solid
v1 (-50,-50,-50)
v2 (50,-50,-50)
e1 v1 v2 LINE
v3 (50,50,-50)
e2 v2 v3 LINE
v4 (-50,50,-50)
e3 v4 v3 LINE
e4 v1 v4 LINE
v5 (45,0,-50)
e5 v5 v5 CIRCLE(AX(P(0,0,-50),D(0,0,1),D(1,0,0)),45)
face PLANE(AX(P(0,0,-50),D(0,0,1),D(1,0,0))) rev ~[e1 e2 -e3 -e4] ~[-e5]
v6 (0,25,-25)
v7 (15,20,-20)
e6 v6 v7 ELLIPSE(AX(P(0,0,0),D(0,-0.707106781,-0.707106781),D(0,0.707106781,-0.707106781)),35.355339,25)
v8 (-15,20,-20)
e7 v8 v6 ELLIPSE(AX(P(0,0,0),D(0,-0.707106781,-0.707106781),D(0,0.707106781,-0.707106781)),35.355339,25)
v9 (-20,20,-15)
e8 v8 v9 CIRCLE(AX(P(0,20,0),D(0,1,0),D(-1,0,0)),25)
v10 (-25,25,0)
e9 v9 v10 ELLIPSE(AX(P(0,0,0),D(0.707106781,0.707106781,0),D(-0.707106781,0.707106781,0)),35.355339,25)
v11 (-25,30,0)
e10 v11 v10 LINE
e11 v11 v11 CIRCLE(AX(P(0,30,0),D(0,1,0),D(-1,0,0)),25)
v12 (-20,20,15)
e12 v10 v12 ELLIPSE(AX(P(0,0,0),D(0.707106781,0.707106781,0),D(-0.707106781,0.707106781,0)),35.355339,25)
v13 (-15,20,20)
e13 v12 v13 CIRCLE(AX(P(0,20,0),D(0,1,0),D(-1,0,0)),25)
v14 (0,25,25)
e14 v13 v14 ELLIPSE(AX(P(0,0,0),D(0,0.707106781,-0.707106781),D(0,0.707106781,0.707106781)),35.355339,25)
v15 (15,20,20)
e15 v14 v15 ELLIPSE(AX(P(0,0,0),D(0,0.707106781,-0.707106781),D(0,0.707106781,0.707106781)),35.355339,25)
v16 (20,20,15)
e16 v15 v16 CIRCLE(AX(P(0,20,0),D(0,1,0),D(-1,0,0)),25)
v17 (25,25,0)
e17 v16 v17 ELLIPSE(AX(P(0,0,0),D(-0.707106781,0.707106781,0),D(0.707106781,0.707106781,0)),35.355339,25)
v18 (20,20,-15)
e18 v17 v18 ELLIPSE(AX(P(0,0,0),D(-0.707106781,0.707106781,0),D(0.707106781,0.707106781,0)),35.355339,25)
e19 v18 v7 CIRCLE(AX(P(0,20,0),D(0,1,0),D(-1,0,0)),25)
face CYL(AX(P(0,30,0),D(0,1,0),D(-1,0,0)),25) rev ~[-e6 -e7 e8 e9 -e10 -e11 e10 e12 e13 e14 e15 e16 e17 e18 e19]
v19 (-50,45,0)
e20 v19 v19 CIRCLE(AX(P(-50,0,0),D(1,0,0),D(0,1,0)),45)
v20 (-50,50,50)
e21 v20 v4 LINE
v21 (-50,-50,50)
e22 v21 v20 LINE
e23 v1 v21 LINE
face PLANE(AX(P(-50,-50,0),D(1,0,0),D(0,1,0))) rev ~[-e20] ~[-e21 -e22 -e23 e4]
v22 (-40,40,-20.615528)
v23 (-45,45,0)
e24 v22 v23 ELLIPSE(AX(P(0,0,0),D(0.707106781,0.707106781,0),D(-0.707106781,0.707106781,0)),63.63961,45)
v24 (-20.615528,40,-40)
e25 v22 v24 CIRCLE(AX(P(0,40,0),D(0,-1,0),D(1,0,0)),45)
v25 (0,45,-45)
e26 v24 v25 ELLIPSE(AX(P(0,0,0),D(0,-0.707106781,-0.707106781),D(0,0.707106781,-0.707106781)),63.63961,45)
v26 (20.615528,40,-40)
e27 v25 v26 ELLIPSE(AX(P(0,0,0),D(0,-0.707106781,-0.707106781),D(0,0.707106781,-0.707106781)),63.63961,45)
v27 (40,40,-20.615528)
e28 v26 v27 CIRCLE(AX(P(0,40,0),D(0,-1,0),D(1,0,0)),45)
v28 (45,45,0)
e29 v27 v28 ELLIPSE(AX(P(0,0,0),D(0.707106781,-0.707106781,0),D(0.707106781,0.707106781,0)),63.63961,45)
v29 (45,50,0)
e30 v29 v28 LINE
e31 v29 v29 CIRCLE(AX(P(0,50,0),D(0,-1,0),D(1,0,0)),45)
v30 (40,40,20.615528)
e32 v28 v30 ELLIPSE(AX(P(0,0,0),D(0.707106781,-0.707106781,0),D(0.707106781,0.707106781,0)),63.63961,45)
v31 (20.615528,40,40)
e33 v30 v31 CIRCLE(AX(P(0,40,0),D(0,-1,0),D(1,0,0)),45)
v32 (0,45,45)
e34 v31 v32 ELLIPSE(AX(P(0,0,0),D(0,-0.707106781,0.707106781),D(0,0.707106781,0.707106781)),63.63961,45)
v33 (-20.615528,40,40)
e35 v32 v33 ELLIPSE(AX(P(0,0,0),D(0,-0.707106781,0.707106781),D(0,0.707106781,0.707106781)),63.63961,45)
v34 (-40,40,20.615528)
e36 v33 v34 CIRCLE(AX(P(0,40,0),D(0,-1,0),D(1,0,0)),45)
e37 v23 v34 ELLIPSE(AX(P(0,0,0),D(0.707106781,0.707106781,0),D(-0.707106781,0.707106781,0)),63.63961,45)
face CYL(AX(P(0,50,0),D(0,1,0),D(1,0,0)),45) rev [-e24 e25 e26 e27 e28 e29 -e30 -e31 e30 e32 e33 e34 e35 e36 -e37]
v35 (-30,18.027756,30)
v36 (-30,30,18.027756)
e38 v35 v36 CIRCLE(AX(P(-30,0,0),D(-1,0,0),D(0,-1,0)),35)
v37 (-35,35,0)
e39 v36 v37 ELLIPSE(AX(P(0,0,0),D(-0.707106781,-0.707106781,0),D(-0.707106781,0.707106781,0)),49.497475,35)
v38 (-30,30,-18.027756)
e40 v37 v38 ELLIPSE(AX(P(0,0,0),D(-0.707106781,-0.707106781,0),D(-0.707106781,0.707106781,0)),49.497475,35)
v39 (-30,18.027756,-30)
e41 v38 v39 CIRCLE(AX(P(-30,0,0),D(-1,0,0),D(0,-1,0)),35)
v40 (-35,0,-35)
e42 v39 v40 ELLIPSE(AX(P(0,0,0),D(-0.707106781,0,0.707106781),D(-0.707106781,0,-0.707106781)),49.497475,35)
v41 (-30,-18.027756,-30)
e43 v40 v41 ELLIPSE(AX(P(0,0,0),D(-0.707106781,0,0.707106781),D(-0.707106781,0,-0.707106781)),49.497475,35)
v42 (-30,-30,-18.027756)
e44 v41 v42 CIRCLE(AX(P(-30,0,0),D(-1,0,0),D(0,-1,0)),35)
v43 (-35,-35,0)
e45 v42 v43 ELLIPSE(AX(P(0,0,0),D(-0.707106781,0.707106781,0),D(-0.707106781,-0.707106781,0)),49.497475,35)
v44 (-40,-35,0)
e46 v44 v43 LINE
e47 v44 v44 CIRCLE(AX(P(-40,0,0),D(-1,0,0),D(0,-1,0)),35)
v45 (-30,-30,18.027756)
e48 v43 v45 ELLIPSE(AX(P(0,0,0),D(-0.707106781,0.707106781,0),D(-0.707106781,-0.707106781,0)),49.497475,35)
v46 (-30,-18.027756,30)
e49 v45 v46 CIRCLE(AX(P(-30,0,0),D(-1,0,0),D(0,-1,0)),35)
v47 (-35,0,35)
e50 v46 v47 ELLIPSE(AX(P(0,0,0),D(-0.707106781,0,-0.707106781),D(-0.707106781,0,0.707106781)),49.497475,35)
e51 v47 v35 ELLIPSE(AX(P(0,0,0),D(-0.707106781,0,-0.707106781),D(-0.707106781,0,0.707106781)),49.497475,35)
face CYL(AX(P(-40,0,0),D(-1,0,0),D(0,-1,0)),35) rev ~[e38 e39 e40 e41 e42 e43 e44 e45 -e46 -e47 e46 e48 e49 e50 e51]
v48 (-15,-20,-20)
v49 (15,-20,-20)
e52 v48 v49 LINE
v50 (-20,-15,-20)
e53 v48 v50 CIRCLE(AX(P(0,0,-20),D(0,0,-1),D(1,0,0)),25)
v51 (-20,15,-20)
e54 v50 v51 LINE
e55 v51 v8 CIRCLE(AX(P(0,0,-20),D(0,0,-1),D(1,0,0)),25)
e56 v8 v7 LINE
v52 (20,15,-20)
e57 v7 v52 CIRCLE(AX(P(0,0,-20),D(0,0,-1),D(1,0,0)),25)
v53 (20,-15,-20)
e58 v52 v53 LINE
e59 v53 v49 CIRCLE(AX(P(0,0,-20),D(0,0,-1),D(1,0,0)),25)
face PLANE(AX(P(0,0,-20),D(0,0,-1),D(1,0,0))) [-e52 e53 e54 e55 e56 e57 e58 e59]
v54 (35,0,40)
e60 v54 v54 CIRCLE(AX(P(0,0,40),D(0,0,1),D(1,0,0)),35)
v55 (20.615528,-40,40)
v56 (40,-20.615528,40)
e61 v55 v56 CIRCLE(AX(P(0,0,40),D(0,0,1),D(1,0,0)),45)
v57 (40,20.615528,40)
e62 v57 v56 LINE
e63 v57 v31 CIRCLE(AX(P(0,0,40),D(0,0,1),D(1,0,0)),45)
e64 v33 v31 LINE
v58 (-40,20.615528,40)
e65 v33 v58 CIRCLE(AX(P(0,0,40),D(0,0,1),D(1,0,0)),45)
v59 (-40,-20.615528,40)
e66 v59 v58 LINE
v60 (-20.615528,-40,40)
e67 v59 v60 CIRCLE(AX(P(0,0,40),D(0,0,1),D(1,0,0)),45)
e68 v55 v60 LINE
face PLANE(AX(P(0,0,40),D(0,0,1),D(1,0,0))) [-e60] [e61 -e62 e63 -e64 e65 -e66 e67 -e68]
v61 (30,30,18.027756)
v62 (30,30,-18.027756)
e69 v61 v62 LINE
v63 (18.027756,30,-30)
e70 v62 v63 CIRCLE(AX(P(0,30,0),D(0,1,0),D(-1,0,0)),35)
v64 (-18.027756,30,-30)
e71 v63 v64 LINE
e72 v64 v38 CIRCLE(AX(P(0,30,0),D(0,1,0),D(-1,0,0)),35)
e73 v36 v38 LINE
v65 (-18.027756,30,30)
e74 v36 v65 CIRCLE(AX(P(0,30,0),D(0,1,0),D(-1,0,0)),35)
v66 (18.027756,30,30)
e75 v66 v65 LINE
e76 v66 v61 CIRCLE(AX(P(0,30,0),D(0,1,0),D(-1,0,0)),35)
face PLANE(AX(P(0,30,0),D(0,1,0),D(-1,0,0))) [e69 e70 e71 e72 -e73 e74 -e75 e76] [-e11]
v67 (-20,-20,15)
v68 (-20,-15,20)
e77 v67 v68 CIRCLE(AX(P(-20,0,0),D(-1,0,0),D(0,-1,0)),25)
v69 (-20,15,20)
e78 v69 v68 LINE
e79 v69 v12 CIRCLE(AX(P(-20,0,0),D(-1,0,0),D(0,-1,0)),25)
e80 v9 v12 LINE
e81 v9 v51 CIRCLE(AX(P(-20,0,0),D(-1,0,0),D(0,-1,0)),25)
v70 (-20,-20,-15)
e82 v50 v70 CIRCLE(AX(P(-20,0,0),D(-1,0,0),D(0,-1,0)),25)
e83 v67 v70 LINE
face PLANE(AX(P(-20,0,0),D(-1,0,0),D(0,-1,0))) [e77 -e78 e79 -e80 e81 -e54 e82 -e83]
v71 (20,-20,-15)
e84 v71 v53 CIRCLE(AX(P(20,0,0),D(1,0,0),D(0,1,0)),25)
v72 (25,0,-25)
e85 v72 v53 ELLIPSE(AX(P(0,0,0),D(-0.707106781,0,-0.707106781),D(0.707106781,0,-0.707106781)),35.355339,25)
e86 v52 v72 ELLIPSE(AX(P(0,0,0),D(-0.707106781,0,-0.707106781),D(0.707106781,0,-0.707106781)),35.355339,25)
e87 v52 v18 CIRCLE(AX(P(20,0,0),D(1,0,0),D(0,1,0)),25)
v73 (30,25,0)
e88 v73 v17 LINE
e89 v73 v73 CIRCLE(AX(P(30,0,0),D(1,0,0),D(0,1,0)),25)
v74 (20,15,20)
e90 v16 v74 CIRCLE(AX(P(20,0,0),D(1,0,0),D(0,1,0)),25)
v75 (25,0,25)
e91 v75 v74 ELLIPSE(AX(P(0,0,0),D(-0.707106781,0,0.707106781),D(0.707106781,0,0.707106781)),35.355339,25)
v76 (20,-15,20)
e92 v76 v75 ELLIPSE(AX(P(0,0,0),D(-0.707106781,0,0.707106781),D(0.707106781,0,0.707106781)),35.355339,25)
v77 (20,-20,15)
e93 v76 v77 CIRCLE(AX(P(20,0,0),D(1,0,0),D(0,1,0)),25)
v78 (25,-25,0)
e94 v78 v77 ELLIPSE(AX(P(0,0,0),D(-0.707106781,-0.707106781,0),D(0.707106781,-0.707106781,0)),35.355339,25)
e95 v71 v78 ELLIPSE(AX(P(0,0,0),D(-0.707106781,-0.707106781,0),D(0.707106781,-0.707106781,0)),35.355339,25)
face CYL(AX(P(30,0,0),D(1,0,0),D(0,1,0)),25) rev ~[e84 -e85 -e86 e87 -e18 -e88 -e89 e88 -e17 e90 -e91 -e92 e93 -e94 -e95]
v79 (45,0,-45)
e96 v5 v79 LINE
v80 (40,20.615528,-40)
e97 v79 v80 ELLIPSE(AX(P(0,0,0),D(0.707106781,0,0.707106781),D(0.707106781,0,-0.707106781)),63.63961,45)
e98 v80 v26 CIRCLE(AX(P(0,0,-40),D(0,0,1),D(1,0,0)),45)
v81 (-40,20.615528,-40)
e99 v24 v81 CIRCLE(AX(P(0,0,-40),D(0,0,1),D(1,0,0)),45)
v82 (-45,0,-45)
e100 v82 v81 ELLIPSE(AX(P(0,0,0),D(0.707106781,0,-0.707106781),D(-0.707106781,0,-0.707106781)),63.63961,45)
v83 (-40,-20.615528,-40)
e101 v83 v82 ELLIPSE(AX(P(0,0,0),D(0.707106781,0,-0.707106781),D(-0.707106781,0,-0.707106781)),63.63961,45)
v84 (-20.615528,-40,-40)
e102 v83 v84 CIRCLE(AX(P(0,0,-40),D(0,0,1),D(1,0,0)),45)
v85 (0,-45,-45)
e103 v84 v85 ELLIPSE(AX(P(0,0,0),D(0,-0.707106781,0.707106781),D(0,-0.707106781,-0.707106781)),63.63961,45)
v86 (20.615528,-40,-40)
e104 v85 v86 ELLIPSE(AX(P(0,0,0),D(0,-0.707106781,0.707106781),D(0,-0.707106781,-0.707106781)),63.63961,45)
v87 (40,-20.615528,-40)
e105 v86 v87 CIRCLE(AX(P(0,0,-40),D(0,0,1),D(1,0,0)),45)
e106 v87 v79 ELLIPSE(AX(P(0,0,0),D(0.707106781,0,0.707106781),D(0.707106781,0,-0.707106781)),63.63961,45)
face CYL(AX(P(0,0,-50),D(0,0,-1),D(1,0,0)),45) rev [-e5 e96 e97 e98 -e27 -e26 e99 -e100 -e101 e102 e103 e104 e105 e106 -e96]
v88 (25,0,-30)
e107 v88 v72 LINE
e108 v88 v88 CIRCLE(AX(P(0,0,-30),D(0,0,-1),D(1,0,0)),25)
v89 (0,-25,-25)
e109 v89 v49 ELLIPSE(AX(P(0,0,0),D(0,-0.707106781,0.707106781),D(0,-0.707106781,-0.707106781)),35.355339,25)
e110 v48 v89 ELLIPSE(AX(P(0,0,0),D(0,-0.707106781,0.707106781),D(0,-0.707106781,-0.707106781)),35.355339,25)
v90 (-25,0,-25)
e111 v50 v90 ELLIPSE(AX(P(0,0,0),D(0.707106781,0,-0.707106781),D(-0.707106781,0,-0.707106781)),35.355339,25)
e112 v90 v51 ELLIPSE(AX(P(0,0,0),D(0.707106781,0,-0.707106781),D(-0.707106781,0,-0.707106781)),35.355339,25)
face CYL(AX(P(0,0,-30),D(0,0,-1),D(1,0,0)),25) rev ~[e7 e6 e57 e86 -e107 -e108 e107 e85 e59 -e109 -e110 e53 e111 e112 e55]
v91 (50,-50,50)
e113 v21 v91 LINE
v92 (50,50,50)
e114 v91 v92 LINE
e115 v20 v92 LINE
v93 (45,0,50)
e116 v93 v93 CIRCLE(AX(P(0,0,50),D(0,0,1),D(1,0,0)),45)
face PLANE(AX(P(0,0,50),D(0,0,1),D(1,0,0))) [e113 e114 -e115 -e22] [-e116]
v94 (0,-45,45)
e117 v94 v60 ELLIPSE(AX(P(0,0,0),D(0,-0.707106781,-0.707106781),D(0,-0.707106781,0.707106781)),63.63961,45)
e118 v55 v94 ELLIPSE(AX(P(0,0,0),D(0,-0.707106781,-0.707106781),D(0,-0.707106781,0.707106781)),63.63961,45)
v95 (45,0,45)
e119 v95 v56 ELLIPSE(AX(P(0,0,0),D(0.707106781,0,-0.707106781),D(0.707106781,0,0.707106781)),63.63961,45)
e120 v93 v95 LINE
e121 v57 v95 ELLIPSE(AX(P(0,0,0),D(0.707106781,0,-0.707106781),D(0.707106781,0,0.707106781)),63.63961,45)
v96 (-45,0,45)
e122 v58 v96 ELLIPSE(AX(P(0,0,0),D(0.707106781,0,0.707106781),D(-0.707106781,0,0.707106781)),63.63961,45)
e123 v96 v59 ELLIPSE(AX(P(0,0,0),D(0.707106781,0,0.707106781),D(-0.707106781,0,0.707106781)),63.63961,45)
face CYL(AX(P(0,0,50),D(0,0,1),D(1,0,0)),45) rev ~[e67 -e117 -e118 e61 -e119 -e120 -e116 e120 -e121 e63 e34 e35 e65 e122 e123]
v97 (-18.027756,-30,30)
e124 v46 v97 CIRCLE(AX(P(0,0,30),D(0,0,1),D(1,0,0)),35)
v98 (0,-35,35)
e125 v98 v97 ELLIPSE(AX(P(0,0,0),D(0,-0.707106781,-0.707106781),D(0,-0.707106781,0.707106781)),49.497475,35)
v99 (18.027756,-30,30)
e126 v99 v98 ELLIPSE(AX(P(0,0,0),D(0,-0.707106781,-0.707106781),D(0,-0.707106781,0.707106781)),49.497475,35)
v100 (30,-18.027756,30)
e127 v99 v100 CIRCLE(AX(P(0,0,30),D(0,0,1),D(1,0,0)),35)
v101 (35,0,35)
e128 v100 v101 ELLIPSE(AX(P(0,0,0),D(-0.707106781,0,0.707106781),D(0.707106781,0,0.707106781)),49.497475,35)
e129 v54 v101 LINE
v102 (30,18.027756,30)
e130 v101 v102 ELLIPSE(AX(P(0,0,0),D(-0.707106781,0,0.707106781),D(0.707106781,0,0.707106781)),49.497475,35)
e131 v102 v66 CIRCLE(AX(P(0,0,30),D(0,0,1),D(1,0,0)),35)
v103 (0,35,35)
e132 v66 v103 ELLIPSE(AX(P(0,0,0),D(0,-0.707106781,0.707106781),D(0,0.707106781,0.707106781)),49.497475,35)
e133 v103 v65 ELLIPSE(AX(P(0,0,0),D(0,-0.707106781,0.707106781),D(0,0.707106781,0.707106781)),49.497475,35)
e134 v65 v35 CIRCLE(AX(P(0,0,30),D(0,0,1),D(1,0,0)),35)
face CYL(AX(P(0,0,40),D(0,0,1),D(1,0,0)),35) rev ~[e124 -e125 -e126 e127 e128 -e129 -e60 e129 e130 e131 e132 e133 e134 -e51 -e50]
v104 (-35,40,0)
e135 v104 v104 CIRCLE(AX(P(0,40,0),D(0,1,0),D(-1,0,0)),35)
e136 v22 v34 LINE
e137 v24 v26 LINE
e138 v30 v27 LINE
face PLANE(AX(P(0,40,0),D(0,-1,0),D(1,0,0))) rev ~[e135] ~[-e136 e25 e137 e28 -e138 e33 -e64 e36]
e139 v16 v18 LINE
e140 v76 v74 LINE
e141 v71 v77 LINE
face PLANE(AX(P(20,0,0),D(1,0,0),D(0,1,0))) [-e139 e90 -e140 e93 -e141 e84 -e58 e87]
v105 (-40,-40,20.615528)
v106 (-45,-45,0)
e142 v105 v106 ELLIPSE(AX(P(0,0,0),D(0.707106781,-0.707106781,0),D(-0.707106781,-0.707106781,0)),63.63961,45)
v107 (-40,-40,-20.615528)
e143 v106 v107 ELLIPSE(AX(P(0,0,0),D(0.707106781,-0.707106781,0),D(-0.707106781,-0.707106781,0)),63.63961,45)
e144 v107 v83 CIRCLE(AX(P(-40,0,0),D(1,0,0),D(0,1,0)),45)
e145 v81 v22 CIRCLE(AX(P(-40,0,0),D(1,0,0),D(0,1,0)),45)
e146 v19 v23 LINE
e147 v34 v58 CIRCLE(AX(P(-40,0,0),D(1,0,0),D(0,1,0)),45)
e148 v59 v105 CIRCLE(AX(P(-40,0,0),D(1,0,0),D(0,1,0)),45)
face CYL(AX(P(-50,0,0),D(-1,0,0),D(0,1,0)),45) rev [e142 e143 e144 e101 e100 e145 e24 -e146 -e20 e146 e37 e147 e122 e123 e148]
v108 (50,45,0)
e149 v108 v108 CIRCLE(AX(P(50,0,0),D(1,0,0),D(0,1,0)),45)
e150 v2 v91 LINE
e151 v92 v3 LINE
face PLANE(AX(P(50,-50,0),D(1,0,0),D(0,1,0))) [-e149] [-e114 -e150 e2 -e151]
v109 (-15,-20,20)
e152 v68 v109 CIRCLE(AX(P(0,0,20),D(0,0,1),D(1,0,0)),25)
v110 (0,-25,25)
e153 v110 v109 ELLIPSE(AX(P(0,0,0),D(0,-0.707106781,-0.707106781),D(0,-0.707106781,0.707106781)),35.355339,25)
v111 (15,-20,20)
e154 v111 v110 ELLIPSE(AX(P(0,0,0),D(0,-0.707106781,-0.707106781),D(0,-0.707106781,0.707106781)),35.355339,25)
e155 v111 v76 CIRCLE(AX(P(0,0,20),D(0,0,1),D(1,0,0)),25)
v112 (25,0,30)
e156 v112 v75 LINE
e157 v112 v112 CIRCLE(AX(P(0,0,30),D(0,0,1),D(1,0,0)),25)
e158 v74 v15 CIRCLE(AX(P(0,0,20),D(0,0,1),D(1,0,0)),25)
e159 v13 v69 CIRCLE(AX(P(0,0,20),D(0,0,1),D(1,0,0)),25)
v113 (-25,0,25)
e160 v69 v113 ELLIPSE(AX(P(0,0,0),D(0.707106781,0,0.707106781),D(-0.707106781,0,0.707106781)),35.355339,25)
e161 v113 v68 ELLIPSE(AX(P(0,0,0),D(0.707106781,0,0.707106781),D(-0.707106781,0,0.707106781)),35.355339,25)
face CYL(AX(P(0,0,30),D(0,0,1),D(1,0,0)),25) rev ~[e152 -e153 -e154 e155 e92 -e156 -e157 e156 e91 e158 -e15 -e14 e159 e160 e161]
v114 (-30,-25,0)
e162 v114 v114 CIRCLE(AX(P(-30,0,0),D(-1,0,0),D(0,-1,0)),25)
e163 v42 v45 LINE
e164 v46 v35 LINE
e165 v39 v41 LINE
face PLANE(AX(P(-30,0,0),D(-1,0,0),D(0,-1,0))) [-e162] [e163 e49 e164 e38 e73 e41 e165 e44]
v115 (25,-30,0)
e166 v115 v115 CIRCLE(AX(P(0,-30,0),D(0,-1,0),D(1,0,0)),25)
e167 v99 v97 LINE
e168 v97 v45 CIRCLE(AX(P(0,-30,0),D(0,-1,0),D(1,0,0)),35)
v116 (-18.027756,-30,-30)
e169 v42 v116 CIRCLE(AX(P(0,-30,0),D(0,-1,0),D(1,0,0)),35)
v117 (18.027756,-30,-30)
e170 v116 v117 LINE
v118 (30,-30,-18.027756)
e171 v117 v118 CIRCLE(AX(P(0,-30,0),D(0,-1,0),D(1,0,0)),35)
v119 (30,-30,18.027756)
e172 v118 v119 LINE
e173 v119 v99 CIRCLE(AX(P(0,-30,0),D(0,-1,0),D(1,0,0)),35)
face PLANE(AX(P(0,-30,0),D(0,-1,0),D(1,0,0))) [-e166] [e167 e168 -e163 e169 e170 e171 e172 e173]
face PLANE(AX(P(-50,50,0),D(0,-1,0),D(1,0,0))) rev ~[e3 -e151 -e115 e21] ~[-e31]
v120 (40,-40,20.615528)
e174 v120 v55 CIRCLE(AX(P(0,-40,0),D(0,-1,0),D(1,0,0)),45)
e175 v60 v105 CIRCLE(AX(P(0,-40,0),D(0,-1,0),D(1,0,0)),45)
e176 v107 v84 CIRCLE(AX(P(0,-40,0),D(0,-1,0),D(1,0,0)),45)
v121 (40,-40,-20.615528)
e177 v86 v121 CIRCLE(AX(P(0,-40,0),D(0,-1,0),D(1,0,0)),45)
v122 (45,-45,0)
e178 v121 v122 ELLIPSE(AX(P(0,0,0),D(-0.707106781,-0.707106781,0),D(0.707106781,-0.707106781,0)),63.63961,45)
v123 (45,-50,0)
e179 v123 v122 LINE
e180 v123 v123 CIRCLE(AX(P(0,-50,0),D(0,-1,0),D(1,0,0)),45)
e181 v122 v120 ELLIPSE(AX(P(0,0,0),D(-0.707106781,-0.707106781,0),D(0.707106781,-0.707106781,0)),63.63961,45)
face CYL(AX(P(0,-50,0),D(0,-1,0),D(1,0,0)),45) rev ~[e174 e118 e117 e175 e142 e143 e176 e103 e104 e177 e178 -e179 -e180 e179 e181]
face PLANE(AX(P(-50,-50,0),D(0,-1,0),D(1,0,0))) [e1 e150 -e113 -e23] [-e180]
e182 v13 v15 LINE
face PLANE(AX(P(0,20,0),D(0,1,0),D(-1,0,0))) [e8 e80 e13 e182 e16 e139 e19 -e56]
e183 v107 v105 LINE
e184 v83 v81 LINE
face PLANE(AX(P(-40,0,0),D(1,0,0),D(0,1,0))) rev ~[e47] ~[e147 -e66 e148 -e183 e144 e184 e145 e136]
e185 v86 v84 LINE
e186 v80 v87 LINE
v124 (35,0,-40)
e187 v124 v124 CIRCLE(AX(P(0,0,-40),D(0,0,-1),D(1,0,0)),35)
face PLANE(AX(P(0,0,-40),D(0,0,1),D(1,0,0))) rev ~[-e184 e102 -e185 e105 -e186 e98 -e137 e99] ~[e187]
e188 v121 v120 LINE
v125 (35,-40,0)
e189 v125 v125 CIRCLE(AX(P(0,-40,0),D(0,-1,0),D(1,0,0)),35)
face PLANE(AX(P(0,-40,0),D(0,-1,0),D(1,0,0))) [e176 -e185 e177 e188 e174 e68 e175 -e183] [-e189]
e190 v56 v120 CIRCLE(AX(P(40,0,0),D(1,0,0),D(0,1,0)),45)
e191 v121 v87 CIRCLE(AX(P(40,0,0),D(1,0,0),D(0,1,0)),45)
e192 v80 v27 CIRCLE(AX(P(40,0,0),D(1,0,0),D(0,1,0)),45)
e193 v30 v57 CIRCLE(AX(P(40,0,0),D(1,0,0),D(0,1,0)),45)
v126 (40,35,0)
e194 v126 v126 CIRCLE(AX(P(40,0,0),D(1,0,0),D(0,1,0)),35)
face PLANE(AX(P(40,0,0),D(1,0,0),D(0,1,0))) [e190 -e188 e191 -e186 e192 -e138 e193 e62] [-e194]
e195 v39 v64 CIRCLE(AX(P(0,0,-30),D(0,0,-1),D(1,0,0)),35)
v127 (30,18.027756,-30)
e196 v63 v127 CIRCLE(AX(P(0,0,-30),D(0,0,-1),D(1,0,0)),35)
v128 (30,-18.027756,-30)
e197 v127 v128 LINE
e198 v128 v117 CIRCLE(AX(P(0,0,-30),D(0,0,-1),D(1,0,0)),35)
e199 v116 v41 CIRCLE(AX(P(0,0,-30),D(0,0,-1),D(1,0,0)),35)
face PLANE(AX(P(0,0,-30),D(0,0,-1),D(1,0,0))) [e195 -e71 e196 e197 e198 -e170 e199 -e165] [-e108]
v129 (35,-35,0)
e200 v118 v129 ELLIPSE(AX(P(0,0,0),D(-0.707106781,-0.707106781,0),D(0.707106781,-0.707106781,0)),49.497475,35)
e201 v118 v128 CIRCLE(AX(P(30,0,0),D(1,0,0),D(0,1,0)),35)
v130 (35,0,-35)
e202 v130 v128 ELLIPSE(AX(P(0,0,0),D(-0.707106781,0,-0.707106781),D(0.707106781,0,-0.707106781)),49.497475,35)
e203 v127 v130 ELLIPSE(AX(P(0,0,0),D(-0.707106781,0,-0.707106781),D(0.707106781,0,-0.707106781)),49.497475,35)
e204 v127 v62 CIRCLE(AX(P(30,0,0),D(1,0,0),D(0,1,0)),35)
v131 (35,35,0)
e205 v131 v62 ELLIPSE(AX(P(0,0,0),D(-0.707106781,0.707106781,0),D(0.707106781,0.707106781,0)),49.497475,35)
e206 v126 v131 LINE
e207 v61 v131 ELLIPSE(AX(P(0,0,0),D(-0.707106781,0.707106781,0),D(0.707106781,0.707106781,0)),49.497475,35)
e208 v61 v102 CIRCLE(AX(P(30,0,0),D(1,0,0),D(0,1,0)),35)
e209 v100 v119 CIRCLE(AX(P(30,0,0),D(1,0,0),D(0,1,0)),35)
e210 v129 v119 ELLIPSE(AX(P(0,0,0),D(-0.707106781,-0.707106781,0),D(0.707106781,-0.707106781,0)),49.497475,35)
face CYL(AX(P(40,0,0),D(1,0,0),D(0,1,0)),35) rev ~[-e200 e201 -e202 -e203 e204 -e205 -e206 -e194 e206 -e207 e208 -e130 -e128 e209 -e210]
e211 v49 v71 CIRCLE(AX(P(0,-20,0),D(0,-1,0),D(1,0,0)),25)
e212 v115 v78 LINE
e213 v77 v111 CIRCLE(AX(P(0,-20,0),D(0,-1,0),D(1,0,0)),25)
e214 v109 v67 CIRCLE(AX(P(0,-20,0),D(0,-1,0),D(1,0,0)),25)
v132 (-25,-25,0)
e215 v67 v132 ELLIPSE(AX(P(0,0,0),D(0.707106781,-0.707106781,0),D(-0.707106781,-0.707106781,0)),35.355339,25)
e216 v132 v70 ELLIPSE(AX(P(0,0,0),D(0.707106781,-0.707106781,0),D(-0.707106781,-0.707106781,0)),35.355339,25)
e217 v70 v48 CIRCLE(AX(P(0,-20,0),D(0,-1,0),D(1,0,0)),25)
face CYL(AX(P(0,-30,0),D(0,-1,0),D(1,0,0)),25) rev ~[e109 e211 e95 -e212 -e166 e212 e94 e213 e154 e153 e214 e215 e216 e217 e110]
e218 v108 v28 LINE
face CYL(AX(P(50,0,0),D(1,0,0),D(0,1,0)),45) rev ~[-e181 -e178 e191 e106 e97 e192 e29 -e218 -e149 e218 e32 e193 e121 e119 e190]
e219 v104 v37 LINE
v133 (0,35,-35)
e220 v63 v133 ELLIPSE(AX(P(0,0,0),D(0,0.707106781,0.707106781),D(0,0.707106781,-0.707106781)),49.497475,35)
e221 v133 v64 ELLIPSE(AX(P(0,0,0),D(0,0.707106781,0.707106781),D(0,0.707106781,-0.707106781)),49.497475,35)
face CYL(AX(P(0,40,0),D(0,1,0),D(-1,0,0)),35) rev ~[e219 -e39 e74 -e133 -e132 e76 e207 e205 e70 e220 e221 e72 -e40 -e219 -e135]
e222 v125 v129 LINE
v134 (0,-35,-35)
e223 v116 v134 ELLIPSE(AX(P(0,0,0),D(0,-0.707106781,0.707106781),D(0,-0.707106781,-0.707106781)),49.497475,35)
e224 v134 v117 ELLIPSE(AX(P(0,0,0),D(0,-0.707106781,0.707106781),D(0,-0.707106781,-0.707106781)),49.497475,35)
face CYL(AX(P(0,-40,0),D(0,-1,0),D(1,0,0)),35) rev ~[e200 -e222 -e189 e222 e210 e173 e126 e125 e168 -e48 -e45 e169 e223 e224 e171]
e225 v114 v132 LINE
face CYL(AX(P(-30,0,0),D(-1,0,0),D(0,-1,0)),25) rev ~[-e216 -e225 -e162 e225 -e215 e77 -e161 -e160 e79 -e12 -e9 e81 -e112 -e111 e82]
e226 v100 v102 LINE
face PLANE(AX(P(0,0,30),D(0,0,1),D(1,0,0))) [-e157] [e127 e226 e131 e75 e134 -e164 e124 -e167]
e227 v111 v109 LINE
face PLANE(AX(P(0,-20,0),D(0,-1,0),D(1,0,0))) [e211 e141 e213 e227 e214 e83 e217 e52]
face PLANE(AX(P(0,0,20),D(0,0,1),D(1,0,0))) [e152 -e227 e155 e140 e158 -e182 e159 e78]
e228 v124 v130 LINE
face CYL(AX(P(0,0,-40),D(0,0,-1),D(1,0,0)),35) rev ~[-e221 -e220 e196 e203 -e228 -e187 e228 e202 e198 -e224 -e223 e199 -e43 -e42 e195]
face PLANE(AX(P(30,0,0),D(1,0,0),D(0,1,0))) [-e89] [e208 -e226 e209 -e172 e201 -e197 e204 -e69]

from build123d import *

# Parameters (mm, degrees)
F2_W          = 100
F2_H          = 100
F3_DEPTH      = 50
F3_DEPTH_BACK = 50
F5_R          = 45
F6_DEPTH      = 10
F8_R          = 45
F9_DEPTH      = 10
F11_R         = 45
F12_DEPTH     = 10
F14_R         = 45
F15_DEPTH     = 10
F17_R         = 45
F18_DEPTH     = 10
F20_R         = 45
F21_DEPTH     = 10
F22_R         = 35
F23_DEPTH     = 10
F24_R         = 35
F25_DEPTH     = 10
F26_R         = 35
F27_DEPTH     = 10
F28_R         = 35
F29_DEPTH     = 10
F30_R         = 35
F31_DEPTH     = 10
F32_R         = 35
F33_DEPTH     = 10
F34_R         = 25
F35_DEPTH     = 10
F36_R         = 25
F37_DEPTH     = 10
F38_R         = 25
F39_DEPTH     = 10
F40_R         = 25
F41_DEPTH     = 10
F42_R         = 25
F43_DEPTH     = 10
F44_R         = 25
F45_DEPTH     = 10


with BuildPart() as f3:
    # F2 (on Top) → F3 (new body, two sides)
    with BuildSketch(Plane.XY) as f3_sk:
        Rectangle(F2_W, F2_H)
    extrude(amount=F3_DEPTH)
    extrude(f3_sk.sketch, amount=-F3_DEPTH_BACK)

    # F5 (on offset) → F6 (cut)
    with BuildSketch(Plane.XZ.offset(50)):
        Circle(F5_R)
    extrude(amount=-F6_DEPTH, mode=Mode.SUBTRACT)

    # F8 (on offset) → F9 (cut)
    with BuildSketch(Plane.YZ.offset(50)):
        Circle(F8_R)
    extrude(amount=-F9_DEPTH, mode=Mode.SUBTRACT)

    # F11 (on offset) → F12 (cut)
    with BuildSketch(Plane.XY.offset(50)):
        Circle(F11_R)
    extrude(amount=-F12_DEPTH, mode=Mode.SUBTRACT)

    # F14 (on offset) → F15 (cut)
    with BuildSketch(Plane.XY.offset(-50)):
        Circle(F14_R)
    extrude(amount=F15_DEPTH, mode=Mode.SUBTRACT)

    # F17 (on offset) → F18 (cut)
    with BuildSketch(Plane.XZ.offset(-50)):
        Circle(F17_R)
    extrude(amount=F18_DEPTH, mode=Mode.SUBTRACT)

    # F20 (on offset) → F21 (cut)
    with BuildSketch(Plane.YZ.offset(-50)):
        Circle(F20_R)
    extrude(amount=F21_DEPTH, mode=Mode.SUBTRACT)

    # F22 (on face) → F23 (cut)
    with BuildSketch(Plane(origin=(-40, 0, 0), x_dir=(0, -1, 0), z_dir=(-1, 0, 0))):
        Circle(F22_R)
    extrude(amount=-F23_DEPTH, mode=Mode.SUBTRACT)

    # F24 (on face) → F25 (cut)
    with BuildSketch(Plane.XZ.offset(40)):
        Circle(F24_R)
    extrude(amount=-F25_DEPTH, mode=Mode.SUBTRACT)

    # F26 (on face) → F27 (cut)
    with BuildSketch(Plane.XY.offset(40)):
        Circle(F26_R)
    extrude(amount=-F27_DEPTH, mode=Mode.SUBTRACT)

    # F28 (on face) → F29 (cut)
    with BuildSketch(Plane(origin=(0, 40, 0), x_dir=(-1, 0, 0), z_dir=(0, 1, 0))):
        Circle(F28_R)
    extrude(amount=-F29_DEPTH, mode=Mode.SUBTRACT)

    # F30 (on face) → F31 (cut)
    with BuildSketch(Plane(origin=(0, 0, -40), x_dir=(1, 0, 0), z_dir=(0, 0, -1))):
        Circle(F30_R)
    extrude(amount=-F31_DEPTH, mode=Mode.SUBTRACT)

    # F32 (on face) → F33 (cut)
    with BuildSketch(Plane.YZ.offset(40)):
        Circle(F32_R)
    extrude(amount=-F33_DEPTH, mode=Mode.SUBTRACT)

    # F34 (on face) → F35 (cut)
    with BuildSketch(Plane.XZ.offset(30)):
        Circle(F34_R)
    extrude(amount=-F35_DEPTH, mode=Mode.SUBTRACT)

    # F36 (on face) → F37 (cut)
    with BuildSketch(Plane(origin=(0, 0, -30), x_dir=(1, 0, 0), z_dir=(0, 0, -1))):
        Circle(F36_R)
    extrude(amount=-F37_DEPTH, mode=Mode.SUBTRACT)

    # F38 (on face) → F39 (cut)
    with BuildSketch(Plane(origin=(0, 30, 0), x_dir=(-1, 0, 0), z_dir=(0, 1, 0))):
        Circle(F38_R)
    extrude(amount=-F39_DEPTH, mode=Mode.SUBTRACT)

    # F40 (on face) → F41 (cut)
    with BuildSketch(Plane.XY.offset(30)):
        Circle(F40_R)
    extrude(amount=-F41_DEPTH, mode=Mode.SUBTRACT)

    # F42 (on face) → F43 (cut)
    with BuildSketch(Plane.YZ.offset(30)):
        Circle(F42_R)
    extrude(amount=-F43_DEPTH, mode=Mode.SUBTRACT)

    # F44 (on face) → F45 (cut)
    with BuildSketch(Plane(origin=(-30, 0, 0), x_dir=(0, -1, 0), z_dir=(-1, 0, 0))):
        Circle(F44_R)
    extrude(amount=-F45_DEPTH, mode=Mode.SUBTRACT)


solid = f3.part
